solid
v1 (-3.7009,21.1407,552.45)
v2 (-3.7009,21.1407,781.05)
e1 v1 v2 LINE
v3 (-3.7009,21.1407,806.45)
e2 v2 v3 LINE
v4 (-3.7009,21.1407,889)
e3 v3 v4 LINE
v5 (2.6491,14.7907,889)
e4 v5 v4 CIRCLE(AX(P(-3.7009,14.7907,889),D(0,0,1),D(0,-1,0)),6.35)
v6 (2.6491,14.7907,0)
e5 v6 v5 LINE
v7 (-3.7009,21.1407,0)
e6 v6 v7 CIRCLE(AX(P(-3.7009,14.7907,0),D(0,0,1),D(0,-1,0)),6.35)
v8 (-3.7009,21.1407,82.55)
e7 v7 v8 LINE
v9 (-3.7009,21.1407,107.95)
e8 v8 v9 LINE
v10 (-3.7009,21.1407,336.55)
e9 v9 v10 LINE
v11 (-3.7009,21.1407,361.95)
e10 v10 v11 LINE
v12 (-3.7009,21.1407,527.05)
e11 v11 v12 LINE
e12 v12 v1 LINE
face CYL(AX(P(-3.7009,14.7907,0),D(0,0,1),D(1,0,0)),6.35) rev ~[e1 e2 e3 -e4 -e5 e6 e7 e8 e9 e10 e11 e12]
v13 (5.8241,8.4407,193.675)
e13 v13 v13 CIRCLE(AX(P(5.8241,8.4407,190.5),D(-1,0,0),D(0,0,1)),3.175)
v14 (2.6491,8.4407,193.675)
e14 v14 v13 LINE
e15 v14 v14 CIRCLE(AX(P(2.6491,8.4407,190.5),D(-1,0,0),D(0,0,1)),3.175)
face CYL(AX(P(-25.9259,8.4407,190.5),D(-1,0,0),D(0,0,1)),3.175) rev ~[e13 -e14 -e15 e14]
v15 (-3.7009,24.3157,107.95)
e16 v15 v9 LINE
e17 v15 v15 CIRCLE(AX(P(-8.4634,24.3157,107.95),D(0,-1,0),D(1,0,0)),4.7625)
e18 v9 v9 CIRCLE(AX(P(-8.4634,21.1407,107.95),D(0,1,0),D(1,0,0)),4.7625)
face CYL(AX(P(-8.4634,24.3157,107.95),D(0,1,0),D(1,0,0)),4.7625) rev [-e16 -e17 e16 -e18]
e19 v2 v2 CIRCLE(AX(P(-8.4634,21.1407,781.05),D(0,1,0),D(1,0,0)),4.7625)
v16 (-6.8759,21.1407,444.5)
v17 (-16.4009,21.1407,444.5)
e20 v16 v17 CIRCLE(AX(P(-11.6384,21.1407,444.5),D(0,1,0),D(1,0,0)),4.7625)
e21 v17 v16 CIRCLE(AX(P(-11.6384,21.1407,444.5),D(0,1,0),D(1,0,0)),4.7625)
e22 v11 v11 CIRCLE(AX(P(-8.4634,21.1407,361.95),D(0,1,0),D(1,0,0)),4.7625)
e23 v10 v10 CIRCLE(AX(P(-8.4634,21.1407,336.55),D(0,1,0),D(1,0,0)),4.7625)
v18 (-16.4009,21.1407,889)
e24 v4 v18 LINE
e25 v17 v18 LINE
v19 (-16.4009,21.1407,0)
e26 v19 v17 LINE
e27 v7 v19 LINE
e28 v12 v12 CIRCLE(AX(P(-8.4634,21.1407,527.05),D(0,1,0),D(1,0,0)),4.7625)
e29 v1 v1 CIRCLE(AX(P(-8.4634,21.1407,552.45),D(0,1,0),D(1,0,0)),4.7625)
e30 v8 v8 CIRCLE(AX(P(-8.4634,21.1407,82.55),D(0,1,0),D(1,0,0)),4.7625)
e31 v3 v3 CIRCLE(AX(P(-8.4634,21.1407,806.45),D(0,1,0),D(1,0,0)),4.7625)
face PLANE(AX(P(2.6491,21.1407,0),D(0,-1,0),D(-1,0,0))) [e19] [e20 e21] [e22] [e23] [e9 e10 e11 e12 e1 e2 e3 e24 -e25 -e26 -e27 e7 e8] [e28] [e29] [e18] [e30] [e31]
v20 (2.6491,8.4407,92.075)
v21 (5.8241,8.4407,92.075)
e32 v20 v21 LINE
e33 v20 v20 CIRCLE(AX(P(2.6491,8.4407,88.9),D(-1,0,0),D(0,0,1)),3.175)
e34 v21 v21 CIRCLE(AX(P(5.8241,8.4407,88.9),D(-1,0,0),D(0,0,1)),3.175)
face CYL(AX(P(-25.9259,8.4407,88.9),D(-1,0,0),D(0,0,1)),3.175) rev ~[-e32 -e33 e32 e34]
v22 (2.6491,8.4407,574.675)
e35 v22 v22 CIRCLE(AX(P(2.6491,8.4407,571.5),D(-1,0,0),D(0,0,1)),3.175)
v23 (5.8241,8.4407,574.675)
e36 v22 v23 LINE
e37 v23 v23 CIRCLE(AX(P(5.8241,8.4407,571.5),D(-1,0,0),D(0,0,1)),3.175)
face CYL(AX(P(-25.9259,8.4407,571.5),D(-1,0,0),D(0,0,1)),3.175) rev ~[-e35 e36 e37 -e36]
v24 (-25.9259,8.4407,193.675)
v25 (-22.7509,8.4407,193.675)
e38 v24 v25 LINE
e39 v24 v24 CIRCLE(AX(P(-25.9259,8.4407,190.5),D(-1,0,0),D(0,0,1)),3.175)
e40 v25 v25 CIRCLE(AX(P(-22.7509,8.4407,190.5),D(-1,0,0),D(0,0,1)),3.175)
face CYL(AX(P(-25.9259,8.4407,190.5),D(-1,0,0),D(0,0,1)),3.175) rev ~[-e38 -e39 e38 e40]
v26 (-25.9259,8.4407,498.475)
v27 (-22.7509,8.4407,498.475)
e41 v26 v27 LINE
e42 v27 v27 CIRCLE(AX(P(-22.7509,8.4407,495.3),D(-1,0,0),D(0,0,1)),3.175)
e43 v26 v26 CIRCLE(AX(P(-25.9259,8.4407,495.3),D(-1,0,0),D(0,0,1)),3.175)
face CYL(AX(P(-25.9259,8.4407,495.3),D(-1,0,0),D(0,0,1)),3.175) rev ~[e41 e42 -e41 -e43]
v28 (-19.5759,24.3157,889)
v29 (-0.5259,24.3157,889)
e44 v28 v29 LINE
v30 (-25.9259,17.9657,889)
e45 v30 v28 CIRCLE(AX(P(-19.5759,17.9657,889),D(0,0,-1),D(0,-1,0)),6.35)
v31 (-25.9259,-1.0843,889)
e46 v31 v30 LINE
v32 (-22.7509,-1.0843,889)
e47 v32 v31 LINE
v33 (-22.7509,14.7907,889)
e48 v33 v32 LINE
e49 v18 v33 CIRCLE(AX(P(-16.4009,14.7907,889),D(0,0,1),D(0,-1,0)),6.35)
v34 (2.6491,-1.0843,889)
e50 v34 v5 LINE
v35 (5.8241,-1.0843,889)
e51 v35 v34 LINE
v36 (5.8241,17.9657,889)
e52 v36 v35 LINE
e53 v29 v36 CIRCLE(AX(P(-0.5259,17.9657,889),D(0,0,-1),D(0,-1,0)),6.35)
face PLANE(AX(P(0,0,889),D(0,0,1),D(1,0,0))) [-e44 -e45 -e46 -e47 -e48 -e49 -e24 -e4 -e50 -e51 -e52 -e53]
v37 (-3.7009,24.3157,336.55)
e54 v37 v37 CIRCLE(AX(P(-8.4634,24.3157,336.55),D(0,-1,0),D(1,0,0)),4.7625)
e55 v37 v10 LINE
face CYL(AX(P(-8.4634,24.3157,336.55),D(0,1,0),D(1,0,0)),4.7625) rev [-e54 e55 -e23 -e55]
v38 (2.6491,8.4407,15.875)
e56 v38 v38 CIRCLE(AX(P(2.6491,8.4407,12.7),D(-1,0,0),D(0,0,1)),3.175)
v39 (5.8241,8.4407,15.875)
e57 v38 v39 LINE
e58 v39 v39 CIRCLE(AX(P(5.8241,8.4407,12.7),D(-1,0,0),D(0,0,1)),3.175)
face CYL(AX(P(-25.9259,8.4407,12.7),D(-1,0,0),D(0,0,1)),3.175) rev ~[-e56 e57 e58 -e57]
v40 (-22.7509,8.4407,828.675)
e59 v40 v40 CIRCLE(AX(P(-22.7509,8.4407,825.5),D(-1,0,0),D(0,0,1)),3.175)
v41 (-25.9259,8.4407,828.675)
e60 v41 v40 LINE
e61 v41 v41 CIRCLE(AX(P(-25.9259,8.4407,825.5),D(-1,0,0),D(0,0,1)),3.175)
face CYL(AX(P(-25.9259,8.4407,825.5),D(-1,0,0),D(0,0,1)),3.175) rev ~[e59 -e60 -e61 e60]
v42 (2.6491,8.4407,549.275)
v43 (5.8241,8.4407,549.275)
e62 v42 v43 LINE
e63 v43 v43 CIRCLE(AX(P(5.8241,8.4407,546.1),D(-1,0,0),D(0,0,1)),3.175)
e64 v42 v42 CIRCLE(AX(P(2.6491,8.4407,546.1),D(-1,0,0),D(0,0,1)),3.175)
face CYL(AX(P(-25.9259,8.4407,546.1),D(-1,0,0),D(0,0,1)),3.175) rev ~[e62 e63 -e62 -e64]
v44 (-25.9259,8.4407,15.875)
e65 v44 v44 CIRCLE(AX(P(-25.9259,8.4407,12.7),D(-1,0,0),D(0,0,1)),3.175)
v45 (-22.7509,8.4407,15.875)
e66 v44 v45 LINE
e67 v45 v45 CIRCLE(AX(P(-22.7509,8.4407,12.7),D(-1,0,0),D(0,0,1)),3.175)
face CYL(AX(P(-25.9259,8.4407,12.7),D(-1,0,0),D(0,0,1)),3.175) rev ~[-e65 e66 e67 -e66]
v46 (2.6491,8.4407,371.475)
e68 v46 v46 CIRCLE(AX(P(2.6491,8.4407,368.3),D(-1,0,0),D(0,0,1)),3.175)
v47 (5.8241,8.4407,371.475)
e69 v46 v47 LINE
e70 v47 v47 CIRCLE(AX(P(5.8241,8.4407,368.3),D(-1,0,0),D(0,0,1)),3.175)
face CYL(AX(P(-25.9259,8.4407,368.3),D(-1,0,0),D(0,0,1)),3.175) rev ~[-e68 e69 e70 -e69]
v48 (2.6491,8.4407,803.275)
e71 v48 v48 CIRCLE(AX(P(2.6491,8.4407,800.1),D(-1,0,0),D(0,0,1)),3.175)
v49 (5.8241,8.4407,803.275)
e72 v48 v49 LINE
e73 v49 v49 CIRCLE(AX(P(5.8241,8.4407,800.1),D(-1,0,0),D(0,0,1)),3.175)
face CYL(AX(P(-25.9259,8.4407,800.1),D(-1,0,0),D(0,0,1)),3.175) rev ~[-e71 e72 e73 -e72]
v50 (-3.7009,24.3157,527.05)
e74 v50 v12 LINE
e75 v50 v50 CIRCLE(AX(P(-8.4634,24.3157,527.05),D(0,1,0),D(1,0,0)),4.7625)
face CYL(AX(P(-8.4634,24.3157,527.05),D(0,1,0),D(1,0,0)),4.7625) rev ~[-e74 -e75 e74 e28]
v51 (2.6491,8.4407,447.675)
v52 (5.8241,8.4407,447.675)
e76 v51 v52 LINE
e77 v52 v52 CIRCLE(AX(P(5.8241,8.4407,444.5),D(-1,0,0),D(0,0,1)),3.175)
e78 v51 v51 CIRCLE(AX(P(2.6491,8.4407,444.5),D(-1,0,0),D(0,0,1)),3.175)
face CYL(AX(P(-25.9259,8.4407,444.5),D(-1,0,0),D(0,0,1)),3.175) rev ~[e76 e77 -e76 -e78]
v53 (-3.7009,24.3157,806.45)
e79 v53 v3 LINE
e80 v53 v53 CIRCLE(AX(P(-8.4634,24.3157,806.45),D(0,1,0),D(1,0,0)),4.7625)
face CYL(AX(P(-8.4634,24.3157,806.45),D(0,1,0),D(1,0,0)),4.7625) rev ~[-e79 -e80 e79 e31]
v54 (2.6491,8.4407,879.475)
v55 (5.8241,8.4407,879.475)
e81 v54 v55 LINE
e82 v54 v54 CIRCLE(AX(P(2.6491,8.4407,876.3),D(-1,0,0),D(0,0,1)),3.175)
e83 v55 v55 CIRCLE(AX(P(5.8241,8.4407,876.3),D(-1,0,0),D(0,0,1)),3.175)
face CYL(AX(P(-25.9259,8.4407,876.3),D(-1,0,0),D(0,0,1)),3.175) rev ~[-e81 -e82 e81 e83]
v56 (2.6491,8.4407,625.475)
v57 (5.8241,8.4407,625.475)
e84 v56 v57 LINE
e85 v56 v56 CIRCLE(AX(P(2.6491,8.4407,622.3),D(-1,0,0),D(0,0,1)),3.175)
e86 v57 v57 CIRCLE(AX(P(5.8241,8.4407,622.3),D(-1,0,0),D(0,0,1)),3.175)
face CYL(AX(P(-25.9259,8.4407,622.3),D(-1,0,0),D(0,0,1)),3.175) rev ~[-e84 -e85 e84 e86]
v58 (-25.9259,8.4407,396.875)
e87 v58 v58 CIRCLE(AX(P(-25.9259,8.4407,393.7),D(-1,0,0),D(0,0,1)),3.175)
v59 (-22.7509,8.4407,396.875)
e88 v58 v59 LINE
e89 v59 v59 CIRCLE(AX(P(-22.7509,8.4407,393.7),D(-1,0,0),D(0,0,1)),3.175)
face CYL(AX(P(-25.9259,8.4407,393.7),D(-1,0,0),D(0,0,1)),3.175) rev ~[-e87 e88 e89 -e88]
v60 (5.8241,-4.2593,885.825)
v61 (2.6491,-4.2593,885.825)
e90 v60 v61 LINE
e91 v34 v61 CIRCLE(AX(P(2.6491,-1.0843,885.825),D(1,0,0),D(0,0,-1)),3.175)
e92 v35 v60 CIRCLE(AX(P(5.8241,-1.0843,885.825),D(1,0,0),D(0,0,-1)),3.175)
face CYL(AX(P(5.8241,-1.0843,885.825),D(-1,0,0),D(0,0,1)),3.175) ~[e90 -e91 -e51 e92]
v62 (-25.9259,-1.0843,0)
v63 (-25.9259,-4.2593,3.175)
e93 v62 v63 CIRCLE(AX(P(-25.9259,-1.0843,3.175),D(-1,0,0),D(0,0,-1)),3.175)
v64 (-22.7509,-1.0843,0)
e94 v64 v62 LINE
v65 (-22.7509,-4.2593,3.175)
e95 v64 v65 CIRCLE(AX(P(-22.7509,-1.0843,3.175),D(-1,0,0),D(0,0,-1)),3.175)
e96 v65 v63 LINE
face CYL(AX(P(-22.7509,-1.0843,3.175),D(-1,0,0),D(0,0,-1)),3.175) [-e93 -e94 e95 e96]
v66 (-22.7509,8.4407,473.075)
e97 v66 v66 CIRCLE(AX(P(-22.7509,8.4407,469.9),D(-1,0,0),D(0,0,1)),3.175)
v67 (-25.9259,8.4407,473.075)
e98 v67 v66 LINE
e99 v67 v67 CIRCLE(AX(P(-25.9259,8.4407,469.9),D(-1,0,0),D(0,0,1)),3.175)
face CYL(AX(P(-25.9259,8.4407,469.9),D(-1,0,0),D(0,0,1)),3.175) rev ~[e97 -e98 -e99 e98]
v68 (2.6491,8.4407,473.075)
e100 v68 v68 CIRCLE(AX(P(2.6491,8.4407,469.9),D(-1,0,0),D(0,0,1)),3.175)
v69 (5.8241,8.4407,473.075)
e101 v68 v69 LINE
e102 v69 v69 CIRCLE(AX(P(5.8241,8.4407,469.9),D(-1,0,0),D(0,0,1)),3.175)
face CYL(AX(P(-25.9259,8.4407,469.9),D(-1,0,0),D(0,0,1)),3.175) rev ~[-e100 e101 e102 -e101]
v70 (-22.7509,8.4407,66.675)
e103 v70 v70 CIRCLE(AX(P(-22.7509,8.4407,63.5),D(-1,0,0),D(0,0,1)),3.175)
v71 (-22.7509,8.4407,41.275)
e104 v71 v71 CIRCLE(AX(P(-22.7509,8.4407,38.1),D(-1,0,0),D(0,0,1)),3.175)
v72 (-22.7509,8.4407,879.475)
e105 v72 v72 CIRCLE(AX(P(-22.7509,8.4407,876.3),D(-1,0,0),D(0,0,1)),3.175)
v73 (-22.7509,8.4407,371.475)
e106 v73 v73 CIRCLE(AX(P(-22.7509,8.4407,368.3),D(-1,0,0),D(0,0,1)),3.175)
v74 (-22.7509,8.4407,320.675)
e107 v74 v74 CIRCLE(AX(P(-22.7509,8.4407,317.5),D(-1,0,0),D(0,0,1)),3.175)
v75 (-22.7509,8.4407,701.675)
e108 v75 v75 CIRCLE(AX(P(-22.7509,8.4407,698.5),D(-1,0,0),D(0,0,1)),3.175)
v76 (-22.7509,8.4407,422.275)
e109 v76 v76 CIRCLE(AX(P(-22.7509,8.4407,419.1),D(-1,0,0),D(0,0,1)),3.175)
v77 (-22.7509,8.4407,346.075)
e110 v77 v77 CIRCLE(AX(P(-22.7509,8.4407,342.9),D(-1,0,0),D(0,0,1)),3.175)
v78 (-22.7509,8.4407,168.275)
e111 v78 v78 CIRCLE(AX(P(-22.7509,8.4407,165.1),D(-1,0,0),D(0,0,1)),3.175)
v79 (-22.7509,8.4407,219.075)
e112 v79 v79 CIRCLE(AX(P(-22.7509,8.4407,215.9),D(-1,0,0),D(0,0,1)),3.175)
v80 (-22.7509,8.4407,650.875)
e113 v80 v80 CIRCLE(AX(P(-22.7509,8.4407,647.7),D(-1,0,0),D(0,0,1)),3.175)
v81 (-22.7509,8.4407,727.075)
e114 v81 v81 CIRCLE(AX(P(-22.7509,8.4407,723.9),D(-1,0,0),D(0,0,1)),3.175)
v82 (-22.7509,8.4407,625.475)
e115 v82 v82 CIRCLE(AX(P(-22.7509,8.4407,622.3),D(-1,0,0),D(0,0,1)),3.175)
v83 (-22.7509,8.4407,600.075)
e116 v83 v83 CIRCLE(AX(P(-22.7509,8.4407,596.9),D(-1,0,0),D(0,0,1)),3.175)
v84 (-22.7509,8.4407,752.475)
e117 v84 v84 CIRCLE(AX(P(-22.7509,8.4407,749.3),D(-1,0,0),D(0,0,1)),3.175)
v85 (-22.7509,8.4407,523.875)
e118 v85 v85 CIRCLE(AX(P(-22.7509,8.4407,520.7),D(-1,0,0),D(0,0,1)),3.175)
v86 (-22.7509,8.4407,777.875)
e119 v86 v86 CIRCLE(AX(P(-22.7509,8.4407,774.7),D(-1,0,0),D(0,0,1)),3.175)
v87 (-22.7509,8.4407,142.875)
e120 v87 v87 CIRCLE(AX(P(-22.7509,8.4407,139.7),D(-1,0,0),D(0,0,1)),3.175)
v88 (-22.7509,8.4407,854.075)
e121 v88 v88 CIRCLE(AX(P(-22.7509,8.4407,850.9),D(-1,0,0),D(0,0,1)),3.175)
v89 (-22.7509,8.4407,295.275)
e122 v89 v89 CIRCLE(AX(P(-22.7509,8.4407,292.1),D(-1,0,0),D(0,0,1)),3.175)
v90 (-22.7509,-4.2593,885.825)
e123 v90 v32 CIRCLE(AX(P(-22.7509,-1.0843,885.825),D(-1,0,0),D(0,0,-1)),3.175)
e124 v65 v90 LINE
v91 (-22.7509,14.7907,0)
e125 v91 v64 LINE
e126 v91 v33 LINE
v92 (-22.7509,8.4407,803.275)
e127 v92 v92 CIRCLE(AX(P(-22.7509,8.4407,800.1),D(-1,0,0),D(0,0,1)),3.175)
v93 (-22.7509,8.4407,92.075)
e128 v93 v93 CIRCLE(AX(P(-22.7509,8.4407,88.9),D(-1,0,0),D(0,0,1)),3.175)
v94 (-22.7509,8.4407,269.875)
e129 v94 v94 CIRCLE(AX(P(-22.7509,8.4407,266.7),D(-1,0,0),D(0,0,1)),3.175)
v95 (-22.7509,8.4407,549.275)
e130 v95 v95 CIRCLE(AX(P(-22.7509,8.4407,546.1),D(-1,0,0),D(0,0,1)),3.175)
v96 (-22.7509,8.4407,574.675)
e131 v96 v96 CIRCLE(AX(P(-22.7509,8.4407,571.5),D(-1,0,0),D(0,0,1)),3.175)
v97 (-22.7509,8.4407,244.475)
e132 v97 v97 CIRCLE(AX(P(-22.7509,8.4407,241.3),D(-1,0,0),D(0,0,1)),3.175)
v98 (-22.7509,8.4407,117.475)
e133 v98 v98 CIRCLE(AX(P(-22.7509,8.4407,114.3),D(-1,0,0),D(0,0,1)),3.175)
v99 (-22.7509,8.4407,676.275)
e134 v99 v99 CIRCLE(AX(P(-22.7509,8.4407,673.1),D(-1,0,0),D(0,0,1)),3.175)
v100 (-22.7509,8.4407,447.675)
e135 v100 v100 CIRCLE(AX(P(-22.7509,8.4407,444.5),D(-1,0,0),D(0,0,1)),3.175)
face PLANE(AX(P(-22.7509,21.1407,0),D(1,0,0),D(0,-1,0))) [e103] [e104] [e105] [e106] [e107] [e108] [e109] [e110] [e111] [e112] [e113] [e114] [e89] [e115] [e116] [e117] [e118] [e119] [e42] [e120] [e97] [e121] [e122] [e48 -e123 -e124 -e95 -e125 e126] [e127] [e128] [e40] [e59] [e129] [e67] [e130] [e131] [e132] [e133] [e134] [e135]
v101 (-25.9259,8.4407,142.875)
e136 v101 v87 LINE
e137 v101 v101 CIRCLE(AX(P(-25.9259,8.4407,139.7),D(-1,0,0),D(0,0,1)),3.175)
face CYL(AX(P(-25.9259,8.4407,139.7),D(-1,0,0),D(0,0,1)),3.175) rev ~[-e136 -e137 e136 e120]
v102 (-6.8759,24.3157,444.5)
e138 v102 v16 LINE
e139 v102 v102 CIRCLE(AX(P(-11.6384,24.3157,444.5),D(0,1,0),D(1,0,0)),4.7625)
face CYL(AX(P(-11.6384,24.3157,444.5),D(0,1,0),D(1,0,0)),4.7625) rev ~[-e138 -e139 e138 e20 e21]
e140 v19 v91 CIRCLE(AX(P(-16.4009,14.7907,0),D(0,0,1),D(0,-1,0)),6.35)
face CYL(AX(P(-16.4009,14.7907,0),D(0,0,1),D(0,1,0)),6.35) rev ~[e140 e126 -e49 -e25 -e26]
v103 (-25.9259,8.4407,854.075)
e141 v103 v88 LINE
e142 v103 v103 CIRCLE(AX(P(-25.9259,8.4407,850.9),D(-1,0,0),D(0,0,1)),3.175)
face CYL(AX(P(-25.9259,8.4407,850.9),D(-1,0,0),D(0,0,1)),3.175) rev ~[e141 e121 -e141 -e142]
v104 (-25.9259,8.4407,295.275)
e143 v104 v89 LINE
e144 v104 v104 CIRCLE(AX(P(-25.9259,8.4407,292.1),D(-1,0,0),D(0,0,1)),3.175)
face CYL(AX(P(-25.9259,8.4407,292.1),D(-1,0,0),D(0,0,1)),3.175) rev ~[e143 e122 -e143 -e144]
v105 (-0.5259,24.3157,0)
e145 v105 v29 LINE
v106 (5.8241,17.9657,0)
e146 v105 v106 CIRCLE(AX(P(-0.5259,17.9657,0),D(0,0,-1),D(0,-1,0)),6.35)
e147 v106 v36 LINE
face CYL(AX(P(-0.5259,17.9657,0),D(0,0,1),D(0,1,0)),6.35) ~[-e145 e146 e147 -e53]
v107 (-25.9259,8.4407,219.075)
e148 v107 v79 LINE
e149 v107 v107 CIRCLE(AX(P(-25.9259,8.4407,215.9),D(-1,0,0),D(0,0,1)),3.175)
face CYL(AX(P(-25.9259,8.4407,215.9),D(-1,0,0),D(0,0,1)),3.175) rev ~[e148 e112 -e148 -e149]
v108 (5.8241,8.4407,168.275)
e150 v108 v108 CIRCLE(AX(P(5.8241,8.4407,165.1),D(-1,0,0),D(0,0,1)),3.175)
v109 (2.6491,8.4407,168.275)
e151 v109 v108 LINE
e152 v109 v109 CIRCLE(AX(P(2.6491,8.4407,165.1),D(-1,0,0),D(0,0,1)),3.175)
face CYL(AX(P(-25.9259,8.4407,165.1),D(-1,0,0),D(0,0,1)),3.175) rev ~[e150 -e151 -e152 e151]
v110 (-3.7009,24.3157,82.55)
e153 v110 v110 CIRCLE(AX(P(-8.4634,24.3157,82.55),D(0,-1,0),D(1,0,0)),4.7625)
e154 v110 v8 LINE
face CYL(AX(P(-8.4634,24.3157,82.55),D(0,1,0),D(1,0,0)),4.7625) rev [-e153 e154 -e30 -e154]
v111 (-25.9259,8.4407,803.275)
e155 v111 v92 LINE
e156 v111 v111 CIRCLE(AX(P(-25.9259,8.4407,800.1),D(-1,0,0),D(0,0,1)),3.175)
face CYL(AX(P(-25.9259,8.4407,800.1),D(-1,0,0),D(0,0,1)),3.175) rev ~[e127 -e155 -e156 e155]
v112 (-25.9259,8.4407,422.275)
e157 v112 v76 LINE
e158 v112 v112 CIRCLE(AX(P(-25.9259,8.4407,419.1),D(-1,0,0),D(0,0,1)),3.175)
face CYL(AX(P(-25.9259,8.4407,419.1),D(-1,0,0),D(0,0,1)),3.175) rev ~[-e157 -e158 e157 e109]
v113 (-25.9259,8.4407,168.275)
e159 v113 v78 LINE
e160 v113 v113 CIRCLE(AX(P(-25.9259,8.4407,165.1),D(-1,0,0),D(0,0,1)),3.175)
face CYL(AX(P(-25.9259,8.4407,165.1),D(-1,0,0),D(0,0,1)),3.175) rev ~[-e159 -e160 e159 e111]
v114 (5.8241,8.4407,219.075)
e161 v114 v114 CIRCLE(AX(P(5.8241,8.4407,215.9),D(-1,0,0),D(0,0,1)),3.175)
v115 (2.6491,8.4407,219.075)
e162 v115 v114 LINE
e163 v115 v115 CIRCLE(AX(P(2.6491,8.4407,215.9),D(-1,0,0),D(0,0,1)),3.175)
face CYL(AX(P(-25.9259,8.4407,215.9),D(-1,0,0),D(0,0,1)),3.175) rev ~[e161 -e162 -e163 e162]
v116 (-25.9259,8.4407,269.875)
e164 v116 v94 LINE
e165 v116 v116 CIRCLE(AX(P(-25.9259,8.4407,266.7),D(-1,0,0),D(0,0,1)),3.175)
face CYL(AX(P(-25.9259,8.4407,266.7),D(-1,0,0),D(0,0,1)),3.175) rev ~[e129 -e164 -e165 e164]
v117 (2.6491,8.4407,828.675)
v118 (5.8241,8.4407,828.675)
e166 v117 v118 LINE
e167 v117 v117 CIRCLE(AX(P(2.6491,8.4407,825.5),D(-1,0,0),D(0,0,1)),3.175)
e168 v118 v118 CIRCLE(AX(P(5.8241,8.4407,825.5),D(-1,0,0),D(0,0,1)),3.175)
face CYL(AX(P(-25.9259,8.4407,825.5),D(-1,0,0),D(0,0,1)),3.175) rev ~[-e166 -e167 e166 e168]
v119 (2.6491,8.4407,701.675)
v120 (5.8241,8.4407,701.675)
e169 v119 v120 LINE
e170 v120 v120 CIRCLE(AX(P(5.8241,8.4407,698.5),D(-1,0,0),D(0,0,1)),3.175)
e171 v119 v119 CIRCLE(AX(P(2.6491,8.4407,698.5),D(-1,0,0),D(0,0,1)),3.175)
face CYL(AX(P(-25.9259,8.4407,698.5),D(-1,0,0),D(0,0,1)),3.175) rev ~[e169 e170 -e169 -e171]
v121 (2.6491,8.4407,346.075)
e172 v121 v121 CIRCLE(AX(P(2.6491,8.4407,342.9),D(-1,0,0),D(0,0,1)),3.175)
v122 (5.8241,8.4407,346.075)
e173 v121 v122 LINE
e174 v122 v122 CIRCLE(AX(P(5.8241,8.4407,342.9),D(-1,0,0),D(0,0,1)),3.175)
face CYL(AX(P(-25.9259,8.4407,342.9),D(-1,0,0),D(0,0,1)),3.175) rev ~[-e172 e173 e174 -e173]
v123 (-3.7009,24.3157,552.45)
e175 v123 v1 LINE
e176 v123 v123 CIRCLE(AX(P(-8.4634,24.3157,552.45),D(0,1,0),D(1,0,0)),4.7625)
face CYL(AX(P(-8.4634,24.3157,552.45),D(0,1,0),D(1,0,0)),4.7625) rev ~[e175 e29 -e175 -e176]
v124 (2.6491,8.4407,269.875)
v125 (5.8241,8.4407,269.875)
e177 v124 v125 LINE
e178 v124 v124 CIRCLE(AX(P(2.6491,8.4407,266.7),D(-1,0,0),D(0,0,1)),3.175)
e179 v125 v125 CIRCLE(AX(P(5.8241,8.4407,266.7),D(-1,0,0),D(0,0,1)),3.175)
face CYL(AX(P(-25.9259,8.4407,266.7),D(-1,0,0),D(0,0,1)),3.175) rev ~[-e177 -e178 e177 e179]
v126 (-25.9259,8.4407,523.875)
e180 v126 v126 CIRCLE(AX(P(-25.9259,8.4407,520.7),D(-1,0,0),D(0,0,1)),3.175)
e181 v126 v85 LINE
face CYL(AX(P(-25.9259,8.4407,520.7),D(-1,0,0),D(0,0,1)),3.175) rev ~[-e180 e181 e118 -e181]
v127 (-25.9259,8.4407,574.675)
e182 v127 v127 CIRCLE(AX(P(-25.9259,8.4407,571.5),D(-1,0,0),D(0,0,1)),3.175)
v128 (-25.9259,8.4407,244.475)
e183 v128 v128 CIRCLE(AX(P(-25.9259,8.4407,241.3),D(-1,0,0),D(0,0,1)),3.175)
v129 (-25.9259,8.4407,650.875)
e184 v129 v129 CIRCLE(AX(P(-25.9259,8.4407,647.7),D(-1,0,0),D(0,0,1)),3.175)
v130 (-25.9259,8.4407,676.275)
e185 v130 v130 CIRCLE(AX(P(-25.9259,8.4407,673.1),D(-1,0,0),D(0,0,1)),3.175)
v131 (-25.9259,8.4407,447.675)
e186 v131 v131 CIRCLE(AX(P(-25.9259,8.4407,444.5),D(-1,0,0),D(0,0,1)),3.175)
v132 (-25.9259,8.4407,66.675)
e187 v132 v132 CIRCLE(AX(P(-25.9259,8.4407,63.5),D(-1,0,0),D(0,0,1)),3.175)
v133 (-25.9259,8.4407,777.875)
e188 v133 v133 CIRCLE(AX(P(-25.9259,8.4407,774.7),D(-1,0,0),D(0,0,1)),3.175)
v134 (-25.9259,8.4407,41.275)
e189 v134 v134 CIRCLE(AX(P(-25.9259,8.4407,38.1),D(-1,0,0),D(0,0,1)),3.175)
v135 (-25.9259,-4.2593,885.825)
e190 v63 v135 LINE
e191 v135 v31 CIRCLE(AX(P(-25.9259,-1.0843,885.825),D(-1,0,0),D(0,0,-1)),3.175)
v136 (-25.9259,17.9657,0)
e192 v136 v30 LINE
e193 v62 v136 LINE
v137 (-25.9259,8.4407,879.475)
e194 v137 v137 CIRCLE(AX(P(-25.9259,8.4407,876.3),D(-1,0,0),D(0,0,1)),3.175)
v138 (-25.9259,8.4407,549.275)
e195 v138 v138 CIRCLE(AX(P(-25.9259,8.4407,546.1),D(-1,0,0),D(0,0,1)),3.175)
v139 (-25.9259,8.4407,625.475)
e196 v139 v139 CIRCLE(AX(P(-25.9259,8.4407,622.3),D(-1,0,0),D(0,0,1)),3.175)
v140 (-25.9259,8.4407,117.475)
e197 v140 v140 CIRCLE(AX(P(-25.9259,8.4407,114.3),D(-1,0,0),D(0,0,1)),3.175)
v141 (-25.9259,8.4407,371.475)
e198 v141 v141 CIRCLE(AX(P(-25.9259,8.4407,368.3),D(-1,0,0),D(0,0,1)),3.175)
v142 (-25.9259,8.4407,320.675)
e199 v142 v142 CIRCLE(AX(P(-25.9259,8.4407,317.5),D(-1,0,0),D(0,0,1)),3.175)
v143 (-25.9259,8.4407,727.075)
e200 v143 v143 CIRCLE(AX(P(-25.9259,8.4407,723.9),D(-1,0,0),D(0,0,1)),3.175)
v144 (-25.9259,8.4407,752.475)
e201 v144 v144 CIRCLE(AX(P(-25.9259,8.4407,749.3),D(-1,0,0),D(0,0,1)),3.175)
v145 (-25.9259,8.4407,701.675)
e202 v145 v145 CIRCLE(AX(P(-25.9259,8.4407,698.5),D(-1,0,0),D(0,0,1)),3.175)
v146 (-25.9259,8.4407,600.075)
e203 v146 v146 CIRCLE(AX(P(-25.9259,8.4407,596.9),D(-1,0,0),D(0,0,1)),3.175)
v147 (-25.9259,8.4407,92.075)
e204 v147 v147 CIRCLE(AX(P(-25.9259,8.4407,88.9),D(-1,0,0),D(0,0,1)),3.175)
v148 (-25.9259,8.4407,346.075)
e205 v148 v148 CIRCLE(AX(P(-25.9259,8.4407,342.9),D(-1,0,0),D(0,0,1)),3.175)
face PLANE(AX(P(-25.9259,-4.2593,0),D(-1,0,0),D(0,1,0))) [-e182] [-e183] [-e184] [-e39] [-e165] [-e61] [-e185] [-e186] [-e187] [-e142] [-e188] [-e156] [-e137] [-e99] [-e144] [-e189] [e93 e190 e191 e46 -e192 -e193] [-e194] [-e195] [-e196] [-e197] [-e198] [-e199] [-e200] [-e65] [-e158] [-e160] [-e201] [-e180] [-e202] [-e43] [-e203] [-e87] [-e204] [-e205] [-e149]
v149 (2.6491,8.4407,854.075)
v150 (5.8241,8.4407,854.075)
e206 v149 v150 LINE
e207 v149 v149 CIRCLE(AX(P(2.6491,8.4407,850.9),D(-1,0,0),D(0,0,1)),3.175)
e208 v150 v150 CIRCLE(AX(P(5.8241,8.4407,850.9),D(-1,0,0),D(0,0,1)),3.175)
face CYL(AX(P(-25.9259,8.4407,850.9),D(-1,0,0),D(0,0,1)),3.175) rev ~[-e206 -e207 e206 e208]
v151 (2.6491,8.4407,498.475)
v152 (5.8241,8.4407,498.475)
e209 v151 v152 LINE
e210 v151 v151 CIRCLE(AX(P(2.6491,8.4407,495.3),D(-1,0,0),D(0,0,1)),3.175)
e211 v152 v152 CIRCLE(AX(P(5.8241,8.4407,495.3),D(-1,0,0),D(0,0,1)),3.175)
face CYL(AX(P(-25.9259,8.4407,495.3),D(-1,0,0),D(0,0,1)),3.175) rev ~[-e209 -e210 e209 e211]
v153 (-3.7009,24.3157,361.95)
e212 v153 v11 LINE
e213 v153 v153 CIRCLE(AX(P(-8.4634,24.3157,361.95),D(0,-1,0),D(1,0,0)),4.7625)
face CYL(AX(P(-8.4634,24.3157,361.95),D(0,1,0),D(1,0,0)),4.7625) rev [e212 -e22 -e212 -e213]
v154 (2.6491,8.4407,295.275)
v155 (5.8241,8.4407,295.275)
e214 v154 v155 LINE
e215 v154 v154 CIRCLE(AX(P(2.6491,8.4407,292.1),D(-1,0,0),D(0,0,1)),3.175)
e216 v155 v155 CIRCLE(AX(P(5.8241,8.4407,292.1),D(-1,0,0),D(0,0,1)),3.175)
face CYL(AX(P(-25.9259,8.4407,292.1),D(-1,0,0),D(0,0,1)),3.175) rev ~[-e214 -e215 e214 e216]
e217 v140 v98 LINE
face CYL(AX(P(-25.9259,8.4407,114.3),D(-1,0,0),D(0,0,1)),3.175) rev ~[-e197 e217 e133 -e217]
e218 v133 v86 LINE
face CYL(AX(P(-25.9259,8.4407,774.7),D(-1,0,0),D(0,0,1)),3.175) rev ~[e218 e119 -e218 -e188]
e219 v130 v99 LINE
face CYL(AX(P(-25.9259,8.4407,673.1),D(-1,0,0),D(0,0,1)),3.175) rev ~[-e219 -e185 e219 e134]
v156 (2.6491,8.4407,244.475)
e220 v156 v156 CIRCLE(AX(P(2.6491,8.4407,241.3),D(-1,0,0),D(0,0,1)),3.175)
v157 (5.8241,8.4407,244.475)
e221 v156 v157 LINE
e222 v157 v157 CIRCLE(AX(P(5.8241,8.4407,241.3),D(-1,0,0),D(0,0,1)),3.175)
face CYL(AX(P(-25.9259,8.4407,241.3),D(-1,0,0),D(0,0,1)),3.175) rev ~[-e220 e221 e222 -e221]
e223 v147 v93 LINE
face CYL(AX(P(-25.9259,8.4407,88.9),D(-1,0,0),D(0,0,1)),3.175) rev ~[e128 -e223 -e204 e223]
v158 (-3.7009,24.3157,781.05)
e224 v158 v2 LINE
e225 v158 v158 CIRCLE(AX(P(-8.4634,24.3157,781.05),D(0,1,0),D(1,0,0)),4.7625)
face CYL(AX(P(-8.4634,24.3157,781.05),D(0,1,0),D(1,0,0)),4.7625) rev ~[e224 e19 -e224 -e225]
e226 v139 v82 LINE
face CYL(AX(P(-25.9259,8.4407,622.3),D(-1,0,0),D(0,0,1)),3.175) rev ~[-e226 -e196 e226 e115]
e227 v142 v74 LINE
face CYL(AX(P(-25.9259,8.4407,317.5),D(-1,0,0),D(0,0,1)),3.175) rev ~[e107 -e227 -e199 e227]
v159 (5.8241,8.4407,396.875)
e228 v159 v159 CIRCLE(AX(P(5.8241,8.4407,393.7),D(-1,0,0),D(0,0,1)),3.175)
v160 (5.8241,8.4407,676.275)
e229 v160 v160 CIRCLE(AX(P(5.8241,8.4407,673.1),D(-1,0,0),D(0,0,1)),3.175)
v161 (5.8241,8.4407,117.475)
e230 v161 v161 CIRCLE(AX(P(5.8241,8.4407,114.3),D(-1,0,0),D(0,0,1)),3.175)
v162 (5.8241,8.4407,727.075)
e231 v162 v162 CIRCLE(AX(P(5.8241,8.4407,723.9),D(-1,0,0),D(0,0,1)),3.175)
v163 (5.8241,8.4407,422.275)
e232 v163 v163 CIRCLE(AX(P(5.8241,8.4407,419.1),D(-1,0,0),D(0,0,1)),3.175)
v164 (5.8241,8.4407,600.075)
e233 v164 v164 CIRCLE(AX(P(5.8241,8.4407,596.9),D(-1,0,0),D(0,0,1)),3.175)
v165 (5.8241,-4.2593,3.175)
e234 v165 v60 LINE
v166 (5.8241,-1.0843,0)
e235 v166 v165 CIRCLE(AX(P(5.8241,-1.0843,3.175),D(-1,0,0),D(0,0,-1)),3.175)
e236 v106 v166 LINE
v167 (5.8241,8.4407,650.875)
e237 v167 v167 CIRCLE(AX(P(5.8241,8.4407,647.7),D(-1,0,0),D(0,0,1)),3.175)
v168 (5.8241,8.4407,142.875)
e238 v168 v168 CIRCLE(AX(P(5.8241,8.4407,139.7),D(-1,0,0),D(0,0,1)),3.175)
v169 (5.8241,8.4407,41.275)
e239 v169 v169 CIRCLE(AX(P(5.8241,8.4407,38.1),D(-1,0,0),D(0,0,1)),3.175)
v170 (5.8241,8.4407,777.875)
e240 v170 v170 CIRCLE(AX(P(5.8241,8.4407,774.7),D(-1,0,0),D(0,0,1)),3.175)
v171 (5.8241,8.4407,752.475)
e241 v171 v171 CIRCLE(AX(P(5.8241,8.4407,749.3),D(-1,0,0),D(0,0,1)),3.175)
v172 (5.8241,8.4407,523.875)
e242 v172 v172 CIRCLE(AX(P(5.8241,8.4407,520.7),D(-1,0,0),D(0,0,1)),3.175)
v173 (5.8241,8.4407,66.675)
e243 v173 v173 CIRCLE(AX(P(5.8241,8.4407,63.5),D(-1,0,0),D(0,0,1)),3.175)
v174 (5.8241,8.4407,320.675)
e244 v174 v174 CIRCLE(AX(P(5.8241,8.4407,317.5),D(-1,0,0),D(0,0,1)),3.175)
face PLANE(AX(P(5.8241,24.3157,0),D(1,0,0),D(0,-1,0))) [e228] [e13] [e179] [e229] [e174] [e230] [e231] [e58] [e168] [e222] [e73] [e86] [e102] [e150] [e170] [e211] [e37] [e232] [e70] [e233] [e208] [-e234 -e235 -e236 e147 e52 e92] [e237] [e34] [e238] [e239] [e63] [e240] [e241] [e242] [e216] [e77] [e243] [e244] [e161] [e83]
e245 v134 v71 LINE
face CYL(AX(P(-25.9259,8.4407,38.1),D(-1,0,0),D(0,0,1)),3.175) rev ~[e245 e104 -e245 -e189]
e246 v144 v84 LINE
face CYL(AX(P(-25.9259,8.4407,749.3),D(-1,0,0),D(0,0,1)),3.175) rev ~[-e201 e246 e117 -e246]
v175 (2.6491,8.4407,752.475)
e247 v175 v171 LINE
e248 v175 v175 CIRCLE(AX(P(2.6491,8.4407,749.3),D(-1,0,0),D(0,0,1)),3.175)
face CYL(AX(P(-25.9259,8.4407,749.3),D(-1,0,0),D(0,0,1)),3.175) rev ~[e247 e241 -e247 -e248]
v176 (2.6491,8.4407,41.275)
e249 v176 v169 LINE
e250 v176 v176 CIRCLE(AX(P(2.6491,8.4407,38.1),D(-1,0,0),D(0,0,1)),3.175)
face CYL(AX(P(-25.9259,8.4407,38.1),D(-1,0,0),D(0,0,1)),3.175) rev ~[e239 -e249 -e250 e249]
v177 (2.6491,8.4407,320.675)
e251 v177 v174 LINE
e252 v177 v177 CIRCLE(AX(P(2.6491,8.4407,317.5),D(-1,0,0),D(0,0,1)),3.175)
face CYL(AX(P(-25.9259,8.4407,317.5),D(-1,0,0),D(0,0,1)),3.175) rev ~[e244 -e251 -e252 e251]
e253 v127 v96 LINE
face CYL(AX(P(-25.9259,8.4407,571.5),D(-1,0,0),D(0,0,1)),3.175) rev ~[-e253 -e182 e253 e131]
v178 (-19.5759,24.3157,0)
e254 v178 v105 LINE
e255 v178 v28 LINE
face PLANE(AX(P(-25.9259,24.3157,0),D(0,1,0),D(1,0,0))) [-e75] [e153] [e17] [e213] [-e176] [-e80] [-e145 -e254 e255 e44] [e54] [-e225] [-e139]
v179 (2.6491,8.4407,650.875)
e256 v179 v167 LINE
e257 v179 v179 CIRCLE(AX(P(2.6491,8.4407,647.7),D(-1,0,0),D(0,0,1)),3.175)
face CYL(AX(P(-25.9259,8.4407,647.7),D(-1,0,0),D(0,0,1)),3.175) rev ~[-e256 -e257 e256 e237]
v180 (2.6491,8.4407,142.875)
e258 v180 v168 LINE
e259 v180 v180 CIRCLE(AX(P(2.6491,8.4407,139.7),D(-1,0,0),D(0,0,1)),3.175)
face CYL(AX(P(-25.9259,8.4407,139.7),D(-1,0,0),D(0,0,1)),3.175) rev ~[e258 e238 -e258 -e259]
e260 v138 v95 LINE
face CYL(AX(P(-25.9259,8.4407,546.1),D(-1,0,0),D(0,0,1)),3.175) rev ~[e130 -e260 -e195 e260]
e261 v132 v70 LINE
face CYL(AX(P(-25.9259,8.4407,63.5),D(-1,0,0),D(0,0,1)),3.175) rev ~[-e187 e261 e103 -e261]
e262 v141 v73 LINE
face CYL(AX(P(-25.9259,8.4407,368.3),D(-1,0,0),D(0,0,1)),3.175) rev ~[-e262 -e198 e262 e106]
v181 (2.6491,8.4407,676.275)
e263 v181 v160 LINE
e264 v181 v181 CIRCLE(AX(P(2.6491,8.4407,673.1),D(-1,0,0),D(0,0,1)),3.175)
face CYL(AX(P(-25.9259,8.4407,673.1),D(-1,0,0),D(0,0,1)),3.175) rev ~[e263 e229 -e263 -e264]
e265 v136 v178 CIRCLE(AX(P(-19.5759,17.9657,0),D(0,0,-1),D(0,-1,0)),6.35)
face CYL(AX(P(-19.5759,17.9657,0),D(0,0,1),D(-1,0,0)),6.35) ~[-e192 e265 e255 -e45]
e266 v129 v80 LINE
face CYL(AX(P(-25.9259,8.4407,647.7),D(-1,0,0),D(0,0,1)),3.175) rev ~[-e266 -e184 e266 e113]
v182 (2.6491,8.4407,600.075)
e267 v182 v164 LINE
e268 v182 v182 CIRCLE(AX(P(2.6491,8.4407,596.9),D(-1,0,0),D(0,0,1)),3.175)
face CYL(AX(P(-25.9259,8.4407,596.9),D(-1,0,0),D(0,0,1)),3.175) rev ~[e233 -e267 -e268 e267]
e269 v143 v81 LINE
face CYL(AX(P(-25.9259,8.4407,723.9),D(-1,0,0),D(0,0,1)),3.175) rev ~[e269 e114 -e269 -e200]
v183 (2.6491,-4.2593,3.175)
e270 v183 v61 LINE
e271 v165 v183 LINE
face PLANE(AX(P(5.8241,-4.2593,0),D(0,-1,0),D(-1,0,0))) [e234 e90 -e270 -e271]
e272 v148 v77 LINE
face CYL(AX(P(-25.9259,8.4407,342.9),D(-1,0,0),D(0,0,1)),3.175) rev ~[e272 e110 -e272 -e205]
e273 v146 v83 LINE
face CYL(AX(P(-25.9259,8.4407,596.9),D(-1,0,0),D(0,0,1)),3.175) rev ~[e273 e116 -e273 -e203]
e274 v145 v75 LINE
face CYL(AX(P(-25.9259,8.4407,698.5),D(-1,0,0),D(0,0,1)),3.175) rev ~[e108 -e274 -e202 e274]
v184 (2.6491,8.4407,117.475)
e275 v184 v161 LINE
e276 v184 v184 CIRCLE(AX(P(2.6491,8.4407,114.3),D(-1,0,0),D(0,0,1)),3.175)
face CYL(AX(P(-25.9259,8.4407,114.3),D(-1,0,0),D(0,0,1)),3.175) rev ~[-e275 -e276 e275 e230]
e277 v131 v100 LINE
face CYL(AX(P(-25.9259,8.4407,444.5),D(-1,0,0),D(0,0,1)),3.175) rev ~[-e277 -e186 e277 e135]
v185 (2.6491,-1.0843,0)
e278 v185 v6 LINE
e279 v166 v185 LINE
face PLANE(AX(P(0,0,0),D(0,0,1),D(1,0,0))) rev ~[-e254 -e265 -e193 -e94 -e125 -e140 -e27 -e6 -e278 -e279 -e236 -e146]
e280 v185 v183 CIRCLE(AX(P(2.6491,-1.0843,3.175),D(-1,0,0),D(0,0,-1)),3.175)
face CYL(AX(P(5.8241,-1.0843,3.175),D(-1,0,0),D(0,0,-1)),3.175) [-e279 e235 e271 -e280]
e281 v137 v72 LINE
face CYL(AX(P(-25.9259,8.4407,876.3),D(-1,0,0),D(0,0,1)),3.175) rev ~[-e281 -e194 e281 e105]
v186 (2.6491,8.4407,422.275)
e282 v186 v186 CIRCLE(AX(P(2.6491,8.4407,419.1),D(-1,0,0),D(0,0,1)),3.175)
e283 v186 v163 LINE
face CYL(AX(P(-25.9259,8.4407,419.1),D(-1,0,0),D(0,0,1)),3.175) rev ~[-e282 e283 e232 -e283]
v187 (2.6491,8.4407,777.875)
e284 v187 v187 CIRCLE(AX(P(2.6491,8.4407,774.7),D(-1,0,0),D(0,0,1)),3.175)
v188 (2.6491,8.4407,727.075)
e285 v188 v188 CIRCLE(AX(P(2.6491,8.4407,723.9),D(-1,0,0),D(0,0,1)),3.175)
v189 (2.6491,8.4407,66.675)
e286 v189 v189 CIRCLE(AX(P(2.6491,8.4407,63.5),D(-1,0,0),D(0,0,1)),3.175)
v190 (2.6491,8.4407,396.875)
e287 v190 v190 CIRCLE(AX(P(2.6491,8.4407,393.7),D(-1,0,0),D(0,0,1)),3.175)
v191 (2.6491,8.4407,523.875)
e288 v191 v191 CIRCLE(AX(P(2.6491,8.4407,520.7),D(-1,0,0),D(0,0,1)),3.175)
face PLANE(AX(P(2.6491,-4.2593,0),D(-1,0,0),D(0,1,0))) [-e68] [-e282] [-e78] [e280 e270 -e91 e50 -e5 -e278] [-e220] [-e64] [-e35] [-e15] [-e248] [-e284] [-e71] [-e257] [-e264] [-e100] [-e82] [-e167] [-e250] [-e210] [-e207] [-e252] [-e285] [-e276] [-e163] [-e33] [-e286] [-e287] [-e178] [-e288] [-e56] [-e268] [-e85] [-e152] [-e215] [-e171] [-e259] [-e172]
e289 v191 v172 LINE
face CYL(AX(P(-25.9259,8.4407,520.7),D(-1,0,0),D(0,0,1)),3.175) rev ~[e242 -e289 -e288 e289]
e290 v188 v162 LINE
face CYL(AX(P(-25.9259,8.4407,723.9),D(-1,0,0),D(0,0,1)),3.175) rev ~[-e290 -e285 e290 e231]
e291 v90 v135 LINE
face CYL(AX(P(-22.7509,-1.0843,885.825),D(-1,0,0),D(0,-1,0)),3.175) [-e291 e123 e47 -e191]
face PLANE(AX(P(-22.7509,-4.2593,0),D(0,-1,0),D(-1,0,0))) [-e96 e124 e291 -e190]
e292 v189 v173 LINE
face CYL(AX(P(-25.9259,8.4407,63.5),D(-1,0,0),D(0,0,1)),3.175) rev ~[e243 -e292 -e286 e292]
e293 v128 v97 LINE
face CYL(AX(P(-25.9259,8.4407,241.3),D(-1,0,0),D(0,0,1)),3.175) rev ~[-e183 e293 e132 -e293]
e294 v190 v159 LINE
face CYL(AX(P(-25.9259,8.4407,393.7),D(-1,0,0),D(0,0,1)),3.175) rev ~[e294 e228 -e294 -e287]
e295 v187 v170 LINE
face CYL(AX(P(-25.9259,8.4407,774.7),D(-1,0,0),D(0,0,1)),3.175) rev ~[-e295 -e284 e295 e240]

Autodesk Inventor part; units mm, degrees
ref_plane "YZ Plane" through (0, 0, 0) normal (1, 0, 0) x (0, 1, 0)
ref_plane "XZ Plane" through (0, 0, 0) normal (0, 1, 0) x (-1, 0, 0)
sketch "Sketch1" plane through (0, 0, 0) normal (0, 0, 1) x (1, 0, 0)
  line L0 (-25.9259, -4.2593) -> (-25.9259, 24.3157)
  line L1 (-25.9259, 24.3157) -> (5.8241, 24.3157)
  line L2 (5.8241, 24.3157) -> (5.8241, -4.2593)
  line L3 (5.8241, -4.2593) -> (2.6491, -4.2593)
  line L4 (2.6491, -4.2593) -> (2.6491, 21.1407)
  line L5 (2.6491, 21.1407) -> (-22.7509, 21.1407)
  line L6 (-22.7509, 21.1407) -> (-22.7509, -4.2593)
  line L7 (-22.7509, -4.2593) -> (-25.9259, -4.2593)
  dimension "d0" = 25.4
  dimension "d1" = 31.75
  dimension "d2" = 3.175
  dimension "d3" = 3.175
  dimension "d4" = 28.575
  dimension "d5" = 0
extrude "Extrusion1" add sketch "Sketch1" along normal blind 889
fillet "Fillet1" radius 6.35 4 edges at (-22.7509, 21.1407, 444.5) (-25.9259, 24.3157, 444.5) (5.8241, 24.3157, 444.5) (2.6491, 21.1407, 444.5)
fillet "Fillet2" radius 3.175 4 edges at (4.2366, -4.2593, 889) (-24.3384, -4.2593, 889) (-24.3384, -4.2593, 0) (4.2366, -4.2593, 0)
sketch "Sketch2" plane through (-25.9259, 17.9657, 0) normal (-1, 0, 0) x (0, 0, 1)
  line L0 (3.175, -22.225) -> (885.825, -22.225) projected
  line L1 (0, -19.05) -> (0, 0) projected
  circle A0 centre (12.7, -9.525) radius 3.175
  dimension "d10" = 6.35
  dimension "d11" = 12.7
  dimension "d12" = 12.7
extrude "Extrusion2" cut sketch "Sketch2" against normal through all
pattern_linear "Rectangular Pattern1" count 35 spacing 25.4 along (0, 0, 1) of "Extrusion2"
sketch "Sketch3" plane through (-19.5759, 24.3157, 0) normal (0, 1, 0) x (1, 0, 0)
  line L0 (0, -889) -> (19.05, -889) projected
  circle A0 centre (11.1125, -806.45) radius 4.7625
  line L1 (25.4, -3.175) -> (25.4, -885.825) projected
  dimension "d18" = 9.525
  dimension "d20" = 82.55
  dimension "d30" = 14.2875
extrude "Extrusion3" cut sketch "Sketch3" against normal through all
pattern_linear "Rectangular Pattern2" count 2 spacing 25.4 along (0, 0, -1) of "Extrusion3"
pattern_linear "Rectangular Pattern3" count 2 spacing 254 along (0, 0, -1) of "Extrusion3", "Rectangular Pattern2"
ref_plane "Work Plane2" through (67.878, 24.3157, 444.5) normal (0, 0, -1) x (-1, 0, 0)
mirror "Mirror1" about plane through (67.878, 24.3157, 444.5) normal (0, 0, -1) of "Extrusion3", "Rectangular Pattern2", "Rectangular Pattern3"
sketch "Sketch5" plane through (-19.5759, 24.3157, 0) normal (0, 1, 0) x (1, 0, 0)
  line L0 (0, 0) -> (19.05, 0) projected
  circle A0 centre (7.9375, -444.5) radius 4.7625
  line L1 (-6.35, -3.175) -> (-6.35, -885.825) projected
  dimension "d31" = 9.525
  dimension "d32" = 14.2875
  dimension "d33" = 444.5
extrude "Extrusion4" cut sketch "Sketch5" against normal through all
sketch "Sketch8" plane through (5.8241, 17.9657, 889) normal (1, 0, 0) x (0, 0, -1)
  circle A0 centre (12.7, -9.525) radius 3.175 projected
  circle A1 centre (38.1, -9.525) radius 3.175 projected
  circle A2 centre (63.5, -9.525) radius 3.175 projected
  circle A3 centre (88.9, -9.525) radius 3.175 projected
  circle A4 centre (114.3, -9.525) radius 3.175 projected
  circle A5 centre (139.7, -9.525) radius 3.175 projected
  circle A6 centre (165.1, -9.525) radius 3.175 projected
  circle A7 centre (190.5, -9.525) radius 3.175 projected
  circle A8 centre (215.9, -9.525) radius 3.175 projected
  circle A9 centre (241.3, -9.525) radius 3.175 projected
  circle A10 centre (266.7, -9.525) radius 3.175 projected
  circle A11 centre (292.1, -9.525) radius 3.175 projected
  circle A12 centre (317.5, -9.525) radius 3.175 projected
  circle A13 centre (342.9, -9.525) radius 3.175 projected
  circle A14 centre (368.3, -9.525) radius 3.175 projected
  circle A15 centre (393.7, -9.525) radius 3.175 projected
  circle A16 centre (419.1, -9.525) radius 3.175 projected
  circle A17 centre (444.5, -9.525) radius 3.175 projected
  circle A18 centre (469.9, -9.525) radius 3.175 projected
  circle A19 centre (495.3, -9.525) radius 3.175 projected
  circle A20 centre (520.7, -9.525) radius 3.175 projected
  circle A21 centre (546.1, -9.525) radius 3.175 projected
  circle A22 centre (571.5, -9.525) radius 3.175 projected
  circle A23 centre (596.9, -9.525) radius 3.175 projected
  circle A24 centre (622.3, -9.525) radius 3.175 projected
  circle A25 centre (647.7, -9.525) radius 3.175 projected
  circle A26 centre (673.1, -9.525) radius 3.175 projected
  circle A27 centre (698.5, -9.525) radius 3.175 projected
  circle A28 centre (723.9, -9.525) radius 3.175 projected
  circle A29 centre (749.3, -9.525) radius 3.175 projected
  circle A30 centre (774.7, -9.525) radius 3.175 projected
  circle A31 centre (800.1, -9.525) radius 3.175 projected
  circle A32 centre (825.5, -9.525) radius 3.175 projected
  circle A33 centre (850.9, -9.525) radius 3.175 projected
  circle A34 centre (876.3, -9.525) radius 3.175 projected
  arc A35 (885.825, -22.225) -> (889, -19.05) centre (885.825, -19.05) ccw projected
  line L0 (889, 0) -> (889, -19.05) projected
  line L1 (0, 0) -> (889, 0) projected
  line L2 (0, 0) -> (0, -19.05) projected
  arc A36 (0, -19.05) -> (3.175, -22.225) centre (3.175, -19.05) ccw projected
  line L3 (885.825, -22.225) -> (3.175, -22.225) projected
  point P0 (889, -17.9657)
properties part number "C Channel 1764"
